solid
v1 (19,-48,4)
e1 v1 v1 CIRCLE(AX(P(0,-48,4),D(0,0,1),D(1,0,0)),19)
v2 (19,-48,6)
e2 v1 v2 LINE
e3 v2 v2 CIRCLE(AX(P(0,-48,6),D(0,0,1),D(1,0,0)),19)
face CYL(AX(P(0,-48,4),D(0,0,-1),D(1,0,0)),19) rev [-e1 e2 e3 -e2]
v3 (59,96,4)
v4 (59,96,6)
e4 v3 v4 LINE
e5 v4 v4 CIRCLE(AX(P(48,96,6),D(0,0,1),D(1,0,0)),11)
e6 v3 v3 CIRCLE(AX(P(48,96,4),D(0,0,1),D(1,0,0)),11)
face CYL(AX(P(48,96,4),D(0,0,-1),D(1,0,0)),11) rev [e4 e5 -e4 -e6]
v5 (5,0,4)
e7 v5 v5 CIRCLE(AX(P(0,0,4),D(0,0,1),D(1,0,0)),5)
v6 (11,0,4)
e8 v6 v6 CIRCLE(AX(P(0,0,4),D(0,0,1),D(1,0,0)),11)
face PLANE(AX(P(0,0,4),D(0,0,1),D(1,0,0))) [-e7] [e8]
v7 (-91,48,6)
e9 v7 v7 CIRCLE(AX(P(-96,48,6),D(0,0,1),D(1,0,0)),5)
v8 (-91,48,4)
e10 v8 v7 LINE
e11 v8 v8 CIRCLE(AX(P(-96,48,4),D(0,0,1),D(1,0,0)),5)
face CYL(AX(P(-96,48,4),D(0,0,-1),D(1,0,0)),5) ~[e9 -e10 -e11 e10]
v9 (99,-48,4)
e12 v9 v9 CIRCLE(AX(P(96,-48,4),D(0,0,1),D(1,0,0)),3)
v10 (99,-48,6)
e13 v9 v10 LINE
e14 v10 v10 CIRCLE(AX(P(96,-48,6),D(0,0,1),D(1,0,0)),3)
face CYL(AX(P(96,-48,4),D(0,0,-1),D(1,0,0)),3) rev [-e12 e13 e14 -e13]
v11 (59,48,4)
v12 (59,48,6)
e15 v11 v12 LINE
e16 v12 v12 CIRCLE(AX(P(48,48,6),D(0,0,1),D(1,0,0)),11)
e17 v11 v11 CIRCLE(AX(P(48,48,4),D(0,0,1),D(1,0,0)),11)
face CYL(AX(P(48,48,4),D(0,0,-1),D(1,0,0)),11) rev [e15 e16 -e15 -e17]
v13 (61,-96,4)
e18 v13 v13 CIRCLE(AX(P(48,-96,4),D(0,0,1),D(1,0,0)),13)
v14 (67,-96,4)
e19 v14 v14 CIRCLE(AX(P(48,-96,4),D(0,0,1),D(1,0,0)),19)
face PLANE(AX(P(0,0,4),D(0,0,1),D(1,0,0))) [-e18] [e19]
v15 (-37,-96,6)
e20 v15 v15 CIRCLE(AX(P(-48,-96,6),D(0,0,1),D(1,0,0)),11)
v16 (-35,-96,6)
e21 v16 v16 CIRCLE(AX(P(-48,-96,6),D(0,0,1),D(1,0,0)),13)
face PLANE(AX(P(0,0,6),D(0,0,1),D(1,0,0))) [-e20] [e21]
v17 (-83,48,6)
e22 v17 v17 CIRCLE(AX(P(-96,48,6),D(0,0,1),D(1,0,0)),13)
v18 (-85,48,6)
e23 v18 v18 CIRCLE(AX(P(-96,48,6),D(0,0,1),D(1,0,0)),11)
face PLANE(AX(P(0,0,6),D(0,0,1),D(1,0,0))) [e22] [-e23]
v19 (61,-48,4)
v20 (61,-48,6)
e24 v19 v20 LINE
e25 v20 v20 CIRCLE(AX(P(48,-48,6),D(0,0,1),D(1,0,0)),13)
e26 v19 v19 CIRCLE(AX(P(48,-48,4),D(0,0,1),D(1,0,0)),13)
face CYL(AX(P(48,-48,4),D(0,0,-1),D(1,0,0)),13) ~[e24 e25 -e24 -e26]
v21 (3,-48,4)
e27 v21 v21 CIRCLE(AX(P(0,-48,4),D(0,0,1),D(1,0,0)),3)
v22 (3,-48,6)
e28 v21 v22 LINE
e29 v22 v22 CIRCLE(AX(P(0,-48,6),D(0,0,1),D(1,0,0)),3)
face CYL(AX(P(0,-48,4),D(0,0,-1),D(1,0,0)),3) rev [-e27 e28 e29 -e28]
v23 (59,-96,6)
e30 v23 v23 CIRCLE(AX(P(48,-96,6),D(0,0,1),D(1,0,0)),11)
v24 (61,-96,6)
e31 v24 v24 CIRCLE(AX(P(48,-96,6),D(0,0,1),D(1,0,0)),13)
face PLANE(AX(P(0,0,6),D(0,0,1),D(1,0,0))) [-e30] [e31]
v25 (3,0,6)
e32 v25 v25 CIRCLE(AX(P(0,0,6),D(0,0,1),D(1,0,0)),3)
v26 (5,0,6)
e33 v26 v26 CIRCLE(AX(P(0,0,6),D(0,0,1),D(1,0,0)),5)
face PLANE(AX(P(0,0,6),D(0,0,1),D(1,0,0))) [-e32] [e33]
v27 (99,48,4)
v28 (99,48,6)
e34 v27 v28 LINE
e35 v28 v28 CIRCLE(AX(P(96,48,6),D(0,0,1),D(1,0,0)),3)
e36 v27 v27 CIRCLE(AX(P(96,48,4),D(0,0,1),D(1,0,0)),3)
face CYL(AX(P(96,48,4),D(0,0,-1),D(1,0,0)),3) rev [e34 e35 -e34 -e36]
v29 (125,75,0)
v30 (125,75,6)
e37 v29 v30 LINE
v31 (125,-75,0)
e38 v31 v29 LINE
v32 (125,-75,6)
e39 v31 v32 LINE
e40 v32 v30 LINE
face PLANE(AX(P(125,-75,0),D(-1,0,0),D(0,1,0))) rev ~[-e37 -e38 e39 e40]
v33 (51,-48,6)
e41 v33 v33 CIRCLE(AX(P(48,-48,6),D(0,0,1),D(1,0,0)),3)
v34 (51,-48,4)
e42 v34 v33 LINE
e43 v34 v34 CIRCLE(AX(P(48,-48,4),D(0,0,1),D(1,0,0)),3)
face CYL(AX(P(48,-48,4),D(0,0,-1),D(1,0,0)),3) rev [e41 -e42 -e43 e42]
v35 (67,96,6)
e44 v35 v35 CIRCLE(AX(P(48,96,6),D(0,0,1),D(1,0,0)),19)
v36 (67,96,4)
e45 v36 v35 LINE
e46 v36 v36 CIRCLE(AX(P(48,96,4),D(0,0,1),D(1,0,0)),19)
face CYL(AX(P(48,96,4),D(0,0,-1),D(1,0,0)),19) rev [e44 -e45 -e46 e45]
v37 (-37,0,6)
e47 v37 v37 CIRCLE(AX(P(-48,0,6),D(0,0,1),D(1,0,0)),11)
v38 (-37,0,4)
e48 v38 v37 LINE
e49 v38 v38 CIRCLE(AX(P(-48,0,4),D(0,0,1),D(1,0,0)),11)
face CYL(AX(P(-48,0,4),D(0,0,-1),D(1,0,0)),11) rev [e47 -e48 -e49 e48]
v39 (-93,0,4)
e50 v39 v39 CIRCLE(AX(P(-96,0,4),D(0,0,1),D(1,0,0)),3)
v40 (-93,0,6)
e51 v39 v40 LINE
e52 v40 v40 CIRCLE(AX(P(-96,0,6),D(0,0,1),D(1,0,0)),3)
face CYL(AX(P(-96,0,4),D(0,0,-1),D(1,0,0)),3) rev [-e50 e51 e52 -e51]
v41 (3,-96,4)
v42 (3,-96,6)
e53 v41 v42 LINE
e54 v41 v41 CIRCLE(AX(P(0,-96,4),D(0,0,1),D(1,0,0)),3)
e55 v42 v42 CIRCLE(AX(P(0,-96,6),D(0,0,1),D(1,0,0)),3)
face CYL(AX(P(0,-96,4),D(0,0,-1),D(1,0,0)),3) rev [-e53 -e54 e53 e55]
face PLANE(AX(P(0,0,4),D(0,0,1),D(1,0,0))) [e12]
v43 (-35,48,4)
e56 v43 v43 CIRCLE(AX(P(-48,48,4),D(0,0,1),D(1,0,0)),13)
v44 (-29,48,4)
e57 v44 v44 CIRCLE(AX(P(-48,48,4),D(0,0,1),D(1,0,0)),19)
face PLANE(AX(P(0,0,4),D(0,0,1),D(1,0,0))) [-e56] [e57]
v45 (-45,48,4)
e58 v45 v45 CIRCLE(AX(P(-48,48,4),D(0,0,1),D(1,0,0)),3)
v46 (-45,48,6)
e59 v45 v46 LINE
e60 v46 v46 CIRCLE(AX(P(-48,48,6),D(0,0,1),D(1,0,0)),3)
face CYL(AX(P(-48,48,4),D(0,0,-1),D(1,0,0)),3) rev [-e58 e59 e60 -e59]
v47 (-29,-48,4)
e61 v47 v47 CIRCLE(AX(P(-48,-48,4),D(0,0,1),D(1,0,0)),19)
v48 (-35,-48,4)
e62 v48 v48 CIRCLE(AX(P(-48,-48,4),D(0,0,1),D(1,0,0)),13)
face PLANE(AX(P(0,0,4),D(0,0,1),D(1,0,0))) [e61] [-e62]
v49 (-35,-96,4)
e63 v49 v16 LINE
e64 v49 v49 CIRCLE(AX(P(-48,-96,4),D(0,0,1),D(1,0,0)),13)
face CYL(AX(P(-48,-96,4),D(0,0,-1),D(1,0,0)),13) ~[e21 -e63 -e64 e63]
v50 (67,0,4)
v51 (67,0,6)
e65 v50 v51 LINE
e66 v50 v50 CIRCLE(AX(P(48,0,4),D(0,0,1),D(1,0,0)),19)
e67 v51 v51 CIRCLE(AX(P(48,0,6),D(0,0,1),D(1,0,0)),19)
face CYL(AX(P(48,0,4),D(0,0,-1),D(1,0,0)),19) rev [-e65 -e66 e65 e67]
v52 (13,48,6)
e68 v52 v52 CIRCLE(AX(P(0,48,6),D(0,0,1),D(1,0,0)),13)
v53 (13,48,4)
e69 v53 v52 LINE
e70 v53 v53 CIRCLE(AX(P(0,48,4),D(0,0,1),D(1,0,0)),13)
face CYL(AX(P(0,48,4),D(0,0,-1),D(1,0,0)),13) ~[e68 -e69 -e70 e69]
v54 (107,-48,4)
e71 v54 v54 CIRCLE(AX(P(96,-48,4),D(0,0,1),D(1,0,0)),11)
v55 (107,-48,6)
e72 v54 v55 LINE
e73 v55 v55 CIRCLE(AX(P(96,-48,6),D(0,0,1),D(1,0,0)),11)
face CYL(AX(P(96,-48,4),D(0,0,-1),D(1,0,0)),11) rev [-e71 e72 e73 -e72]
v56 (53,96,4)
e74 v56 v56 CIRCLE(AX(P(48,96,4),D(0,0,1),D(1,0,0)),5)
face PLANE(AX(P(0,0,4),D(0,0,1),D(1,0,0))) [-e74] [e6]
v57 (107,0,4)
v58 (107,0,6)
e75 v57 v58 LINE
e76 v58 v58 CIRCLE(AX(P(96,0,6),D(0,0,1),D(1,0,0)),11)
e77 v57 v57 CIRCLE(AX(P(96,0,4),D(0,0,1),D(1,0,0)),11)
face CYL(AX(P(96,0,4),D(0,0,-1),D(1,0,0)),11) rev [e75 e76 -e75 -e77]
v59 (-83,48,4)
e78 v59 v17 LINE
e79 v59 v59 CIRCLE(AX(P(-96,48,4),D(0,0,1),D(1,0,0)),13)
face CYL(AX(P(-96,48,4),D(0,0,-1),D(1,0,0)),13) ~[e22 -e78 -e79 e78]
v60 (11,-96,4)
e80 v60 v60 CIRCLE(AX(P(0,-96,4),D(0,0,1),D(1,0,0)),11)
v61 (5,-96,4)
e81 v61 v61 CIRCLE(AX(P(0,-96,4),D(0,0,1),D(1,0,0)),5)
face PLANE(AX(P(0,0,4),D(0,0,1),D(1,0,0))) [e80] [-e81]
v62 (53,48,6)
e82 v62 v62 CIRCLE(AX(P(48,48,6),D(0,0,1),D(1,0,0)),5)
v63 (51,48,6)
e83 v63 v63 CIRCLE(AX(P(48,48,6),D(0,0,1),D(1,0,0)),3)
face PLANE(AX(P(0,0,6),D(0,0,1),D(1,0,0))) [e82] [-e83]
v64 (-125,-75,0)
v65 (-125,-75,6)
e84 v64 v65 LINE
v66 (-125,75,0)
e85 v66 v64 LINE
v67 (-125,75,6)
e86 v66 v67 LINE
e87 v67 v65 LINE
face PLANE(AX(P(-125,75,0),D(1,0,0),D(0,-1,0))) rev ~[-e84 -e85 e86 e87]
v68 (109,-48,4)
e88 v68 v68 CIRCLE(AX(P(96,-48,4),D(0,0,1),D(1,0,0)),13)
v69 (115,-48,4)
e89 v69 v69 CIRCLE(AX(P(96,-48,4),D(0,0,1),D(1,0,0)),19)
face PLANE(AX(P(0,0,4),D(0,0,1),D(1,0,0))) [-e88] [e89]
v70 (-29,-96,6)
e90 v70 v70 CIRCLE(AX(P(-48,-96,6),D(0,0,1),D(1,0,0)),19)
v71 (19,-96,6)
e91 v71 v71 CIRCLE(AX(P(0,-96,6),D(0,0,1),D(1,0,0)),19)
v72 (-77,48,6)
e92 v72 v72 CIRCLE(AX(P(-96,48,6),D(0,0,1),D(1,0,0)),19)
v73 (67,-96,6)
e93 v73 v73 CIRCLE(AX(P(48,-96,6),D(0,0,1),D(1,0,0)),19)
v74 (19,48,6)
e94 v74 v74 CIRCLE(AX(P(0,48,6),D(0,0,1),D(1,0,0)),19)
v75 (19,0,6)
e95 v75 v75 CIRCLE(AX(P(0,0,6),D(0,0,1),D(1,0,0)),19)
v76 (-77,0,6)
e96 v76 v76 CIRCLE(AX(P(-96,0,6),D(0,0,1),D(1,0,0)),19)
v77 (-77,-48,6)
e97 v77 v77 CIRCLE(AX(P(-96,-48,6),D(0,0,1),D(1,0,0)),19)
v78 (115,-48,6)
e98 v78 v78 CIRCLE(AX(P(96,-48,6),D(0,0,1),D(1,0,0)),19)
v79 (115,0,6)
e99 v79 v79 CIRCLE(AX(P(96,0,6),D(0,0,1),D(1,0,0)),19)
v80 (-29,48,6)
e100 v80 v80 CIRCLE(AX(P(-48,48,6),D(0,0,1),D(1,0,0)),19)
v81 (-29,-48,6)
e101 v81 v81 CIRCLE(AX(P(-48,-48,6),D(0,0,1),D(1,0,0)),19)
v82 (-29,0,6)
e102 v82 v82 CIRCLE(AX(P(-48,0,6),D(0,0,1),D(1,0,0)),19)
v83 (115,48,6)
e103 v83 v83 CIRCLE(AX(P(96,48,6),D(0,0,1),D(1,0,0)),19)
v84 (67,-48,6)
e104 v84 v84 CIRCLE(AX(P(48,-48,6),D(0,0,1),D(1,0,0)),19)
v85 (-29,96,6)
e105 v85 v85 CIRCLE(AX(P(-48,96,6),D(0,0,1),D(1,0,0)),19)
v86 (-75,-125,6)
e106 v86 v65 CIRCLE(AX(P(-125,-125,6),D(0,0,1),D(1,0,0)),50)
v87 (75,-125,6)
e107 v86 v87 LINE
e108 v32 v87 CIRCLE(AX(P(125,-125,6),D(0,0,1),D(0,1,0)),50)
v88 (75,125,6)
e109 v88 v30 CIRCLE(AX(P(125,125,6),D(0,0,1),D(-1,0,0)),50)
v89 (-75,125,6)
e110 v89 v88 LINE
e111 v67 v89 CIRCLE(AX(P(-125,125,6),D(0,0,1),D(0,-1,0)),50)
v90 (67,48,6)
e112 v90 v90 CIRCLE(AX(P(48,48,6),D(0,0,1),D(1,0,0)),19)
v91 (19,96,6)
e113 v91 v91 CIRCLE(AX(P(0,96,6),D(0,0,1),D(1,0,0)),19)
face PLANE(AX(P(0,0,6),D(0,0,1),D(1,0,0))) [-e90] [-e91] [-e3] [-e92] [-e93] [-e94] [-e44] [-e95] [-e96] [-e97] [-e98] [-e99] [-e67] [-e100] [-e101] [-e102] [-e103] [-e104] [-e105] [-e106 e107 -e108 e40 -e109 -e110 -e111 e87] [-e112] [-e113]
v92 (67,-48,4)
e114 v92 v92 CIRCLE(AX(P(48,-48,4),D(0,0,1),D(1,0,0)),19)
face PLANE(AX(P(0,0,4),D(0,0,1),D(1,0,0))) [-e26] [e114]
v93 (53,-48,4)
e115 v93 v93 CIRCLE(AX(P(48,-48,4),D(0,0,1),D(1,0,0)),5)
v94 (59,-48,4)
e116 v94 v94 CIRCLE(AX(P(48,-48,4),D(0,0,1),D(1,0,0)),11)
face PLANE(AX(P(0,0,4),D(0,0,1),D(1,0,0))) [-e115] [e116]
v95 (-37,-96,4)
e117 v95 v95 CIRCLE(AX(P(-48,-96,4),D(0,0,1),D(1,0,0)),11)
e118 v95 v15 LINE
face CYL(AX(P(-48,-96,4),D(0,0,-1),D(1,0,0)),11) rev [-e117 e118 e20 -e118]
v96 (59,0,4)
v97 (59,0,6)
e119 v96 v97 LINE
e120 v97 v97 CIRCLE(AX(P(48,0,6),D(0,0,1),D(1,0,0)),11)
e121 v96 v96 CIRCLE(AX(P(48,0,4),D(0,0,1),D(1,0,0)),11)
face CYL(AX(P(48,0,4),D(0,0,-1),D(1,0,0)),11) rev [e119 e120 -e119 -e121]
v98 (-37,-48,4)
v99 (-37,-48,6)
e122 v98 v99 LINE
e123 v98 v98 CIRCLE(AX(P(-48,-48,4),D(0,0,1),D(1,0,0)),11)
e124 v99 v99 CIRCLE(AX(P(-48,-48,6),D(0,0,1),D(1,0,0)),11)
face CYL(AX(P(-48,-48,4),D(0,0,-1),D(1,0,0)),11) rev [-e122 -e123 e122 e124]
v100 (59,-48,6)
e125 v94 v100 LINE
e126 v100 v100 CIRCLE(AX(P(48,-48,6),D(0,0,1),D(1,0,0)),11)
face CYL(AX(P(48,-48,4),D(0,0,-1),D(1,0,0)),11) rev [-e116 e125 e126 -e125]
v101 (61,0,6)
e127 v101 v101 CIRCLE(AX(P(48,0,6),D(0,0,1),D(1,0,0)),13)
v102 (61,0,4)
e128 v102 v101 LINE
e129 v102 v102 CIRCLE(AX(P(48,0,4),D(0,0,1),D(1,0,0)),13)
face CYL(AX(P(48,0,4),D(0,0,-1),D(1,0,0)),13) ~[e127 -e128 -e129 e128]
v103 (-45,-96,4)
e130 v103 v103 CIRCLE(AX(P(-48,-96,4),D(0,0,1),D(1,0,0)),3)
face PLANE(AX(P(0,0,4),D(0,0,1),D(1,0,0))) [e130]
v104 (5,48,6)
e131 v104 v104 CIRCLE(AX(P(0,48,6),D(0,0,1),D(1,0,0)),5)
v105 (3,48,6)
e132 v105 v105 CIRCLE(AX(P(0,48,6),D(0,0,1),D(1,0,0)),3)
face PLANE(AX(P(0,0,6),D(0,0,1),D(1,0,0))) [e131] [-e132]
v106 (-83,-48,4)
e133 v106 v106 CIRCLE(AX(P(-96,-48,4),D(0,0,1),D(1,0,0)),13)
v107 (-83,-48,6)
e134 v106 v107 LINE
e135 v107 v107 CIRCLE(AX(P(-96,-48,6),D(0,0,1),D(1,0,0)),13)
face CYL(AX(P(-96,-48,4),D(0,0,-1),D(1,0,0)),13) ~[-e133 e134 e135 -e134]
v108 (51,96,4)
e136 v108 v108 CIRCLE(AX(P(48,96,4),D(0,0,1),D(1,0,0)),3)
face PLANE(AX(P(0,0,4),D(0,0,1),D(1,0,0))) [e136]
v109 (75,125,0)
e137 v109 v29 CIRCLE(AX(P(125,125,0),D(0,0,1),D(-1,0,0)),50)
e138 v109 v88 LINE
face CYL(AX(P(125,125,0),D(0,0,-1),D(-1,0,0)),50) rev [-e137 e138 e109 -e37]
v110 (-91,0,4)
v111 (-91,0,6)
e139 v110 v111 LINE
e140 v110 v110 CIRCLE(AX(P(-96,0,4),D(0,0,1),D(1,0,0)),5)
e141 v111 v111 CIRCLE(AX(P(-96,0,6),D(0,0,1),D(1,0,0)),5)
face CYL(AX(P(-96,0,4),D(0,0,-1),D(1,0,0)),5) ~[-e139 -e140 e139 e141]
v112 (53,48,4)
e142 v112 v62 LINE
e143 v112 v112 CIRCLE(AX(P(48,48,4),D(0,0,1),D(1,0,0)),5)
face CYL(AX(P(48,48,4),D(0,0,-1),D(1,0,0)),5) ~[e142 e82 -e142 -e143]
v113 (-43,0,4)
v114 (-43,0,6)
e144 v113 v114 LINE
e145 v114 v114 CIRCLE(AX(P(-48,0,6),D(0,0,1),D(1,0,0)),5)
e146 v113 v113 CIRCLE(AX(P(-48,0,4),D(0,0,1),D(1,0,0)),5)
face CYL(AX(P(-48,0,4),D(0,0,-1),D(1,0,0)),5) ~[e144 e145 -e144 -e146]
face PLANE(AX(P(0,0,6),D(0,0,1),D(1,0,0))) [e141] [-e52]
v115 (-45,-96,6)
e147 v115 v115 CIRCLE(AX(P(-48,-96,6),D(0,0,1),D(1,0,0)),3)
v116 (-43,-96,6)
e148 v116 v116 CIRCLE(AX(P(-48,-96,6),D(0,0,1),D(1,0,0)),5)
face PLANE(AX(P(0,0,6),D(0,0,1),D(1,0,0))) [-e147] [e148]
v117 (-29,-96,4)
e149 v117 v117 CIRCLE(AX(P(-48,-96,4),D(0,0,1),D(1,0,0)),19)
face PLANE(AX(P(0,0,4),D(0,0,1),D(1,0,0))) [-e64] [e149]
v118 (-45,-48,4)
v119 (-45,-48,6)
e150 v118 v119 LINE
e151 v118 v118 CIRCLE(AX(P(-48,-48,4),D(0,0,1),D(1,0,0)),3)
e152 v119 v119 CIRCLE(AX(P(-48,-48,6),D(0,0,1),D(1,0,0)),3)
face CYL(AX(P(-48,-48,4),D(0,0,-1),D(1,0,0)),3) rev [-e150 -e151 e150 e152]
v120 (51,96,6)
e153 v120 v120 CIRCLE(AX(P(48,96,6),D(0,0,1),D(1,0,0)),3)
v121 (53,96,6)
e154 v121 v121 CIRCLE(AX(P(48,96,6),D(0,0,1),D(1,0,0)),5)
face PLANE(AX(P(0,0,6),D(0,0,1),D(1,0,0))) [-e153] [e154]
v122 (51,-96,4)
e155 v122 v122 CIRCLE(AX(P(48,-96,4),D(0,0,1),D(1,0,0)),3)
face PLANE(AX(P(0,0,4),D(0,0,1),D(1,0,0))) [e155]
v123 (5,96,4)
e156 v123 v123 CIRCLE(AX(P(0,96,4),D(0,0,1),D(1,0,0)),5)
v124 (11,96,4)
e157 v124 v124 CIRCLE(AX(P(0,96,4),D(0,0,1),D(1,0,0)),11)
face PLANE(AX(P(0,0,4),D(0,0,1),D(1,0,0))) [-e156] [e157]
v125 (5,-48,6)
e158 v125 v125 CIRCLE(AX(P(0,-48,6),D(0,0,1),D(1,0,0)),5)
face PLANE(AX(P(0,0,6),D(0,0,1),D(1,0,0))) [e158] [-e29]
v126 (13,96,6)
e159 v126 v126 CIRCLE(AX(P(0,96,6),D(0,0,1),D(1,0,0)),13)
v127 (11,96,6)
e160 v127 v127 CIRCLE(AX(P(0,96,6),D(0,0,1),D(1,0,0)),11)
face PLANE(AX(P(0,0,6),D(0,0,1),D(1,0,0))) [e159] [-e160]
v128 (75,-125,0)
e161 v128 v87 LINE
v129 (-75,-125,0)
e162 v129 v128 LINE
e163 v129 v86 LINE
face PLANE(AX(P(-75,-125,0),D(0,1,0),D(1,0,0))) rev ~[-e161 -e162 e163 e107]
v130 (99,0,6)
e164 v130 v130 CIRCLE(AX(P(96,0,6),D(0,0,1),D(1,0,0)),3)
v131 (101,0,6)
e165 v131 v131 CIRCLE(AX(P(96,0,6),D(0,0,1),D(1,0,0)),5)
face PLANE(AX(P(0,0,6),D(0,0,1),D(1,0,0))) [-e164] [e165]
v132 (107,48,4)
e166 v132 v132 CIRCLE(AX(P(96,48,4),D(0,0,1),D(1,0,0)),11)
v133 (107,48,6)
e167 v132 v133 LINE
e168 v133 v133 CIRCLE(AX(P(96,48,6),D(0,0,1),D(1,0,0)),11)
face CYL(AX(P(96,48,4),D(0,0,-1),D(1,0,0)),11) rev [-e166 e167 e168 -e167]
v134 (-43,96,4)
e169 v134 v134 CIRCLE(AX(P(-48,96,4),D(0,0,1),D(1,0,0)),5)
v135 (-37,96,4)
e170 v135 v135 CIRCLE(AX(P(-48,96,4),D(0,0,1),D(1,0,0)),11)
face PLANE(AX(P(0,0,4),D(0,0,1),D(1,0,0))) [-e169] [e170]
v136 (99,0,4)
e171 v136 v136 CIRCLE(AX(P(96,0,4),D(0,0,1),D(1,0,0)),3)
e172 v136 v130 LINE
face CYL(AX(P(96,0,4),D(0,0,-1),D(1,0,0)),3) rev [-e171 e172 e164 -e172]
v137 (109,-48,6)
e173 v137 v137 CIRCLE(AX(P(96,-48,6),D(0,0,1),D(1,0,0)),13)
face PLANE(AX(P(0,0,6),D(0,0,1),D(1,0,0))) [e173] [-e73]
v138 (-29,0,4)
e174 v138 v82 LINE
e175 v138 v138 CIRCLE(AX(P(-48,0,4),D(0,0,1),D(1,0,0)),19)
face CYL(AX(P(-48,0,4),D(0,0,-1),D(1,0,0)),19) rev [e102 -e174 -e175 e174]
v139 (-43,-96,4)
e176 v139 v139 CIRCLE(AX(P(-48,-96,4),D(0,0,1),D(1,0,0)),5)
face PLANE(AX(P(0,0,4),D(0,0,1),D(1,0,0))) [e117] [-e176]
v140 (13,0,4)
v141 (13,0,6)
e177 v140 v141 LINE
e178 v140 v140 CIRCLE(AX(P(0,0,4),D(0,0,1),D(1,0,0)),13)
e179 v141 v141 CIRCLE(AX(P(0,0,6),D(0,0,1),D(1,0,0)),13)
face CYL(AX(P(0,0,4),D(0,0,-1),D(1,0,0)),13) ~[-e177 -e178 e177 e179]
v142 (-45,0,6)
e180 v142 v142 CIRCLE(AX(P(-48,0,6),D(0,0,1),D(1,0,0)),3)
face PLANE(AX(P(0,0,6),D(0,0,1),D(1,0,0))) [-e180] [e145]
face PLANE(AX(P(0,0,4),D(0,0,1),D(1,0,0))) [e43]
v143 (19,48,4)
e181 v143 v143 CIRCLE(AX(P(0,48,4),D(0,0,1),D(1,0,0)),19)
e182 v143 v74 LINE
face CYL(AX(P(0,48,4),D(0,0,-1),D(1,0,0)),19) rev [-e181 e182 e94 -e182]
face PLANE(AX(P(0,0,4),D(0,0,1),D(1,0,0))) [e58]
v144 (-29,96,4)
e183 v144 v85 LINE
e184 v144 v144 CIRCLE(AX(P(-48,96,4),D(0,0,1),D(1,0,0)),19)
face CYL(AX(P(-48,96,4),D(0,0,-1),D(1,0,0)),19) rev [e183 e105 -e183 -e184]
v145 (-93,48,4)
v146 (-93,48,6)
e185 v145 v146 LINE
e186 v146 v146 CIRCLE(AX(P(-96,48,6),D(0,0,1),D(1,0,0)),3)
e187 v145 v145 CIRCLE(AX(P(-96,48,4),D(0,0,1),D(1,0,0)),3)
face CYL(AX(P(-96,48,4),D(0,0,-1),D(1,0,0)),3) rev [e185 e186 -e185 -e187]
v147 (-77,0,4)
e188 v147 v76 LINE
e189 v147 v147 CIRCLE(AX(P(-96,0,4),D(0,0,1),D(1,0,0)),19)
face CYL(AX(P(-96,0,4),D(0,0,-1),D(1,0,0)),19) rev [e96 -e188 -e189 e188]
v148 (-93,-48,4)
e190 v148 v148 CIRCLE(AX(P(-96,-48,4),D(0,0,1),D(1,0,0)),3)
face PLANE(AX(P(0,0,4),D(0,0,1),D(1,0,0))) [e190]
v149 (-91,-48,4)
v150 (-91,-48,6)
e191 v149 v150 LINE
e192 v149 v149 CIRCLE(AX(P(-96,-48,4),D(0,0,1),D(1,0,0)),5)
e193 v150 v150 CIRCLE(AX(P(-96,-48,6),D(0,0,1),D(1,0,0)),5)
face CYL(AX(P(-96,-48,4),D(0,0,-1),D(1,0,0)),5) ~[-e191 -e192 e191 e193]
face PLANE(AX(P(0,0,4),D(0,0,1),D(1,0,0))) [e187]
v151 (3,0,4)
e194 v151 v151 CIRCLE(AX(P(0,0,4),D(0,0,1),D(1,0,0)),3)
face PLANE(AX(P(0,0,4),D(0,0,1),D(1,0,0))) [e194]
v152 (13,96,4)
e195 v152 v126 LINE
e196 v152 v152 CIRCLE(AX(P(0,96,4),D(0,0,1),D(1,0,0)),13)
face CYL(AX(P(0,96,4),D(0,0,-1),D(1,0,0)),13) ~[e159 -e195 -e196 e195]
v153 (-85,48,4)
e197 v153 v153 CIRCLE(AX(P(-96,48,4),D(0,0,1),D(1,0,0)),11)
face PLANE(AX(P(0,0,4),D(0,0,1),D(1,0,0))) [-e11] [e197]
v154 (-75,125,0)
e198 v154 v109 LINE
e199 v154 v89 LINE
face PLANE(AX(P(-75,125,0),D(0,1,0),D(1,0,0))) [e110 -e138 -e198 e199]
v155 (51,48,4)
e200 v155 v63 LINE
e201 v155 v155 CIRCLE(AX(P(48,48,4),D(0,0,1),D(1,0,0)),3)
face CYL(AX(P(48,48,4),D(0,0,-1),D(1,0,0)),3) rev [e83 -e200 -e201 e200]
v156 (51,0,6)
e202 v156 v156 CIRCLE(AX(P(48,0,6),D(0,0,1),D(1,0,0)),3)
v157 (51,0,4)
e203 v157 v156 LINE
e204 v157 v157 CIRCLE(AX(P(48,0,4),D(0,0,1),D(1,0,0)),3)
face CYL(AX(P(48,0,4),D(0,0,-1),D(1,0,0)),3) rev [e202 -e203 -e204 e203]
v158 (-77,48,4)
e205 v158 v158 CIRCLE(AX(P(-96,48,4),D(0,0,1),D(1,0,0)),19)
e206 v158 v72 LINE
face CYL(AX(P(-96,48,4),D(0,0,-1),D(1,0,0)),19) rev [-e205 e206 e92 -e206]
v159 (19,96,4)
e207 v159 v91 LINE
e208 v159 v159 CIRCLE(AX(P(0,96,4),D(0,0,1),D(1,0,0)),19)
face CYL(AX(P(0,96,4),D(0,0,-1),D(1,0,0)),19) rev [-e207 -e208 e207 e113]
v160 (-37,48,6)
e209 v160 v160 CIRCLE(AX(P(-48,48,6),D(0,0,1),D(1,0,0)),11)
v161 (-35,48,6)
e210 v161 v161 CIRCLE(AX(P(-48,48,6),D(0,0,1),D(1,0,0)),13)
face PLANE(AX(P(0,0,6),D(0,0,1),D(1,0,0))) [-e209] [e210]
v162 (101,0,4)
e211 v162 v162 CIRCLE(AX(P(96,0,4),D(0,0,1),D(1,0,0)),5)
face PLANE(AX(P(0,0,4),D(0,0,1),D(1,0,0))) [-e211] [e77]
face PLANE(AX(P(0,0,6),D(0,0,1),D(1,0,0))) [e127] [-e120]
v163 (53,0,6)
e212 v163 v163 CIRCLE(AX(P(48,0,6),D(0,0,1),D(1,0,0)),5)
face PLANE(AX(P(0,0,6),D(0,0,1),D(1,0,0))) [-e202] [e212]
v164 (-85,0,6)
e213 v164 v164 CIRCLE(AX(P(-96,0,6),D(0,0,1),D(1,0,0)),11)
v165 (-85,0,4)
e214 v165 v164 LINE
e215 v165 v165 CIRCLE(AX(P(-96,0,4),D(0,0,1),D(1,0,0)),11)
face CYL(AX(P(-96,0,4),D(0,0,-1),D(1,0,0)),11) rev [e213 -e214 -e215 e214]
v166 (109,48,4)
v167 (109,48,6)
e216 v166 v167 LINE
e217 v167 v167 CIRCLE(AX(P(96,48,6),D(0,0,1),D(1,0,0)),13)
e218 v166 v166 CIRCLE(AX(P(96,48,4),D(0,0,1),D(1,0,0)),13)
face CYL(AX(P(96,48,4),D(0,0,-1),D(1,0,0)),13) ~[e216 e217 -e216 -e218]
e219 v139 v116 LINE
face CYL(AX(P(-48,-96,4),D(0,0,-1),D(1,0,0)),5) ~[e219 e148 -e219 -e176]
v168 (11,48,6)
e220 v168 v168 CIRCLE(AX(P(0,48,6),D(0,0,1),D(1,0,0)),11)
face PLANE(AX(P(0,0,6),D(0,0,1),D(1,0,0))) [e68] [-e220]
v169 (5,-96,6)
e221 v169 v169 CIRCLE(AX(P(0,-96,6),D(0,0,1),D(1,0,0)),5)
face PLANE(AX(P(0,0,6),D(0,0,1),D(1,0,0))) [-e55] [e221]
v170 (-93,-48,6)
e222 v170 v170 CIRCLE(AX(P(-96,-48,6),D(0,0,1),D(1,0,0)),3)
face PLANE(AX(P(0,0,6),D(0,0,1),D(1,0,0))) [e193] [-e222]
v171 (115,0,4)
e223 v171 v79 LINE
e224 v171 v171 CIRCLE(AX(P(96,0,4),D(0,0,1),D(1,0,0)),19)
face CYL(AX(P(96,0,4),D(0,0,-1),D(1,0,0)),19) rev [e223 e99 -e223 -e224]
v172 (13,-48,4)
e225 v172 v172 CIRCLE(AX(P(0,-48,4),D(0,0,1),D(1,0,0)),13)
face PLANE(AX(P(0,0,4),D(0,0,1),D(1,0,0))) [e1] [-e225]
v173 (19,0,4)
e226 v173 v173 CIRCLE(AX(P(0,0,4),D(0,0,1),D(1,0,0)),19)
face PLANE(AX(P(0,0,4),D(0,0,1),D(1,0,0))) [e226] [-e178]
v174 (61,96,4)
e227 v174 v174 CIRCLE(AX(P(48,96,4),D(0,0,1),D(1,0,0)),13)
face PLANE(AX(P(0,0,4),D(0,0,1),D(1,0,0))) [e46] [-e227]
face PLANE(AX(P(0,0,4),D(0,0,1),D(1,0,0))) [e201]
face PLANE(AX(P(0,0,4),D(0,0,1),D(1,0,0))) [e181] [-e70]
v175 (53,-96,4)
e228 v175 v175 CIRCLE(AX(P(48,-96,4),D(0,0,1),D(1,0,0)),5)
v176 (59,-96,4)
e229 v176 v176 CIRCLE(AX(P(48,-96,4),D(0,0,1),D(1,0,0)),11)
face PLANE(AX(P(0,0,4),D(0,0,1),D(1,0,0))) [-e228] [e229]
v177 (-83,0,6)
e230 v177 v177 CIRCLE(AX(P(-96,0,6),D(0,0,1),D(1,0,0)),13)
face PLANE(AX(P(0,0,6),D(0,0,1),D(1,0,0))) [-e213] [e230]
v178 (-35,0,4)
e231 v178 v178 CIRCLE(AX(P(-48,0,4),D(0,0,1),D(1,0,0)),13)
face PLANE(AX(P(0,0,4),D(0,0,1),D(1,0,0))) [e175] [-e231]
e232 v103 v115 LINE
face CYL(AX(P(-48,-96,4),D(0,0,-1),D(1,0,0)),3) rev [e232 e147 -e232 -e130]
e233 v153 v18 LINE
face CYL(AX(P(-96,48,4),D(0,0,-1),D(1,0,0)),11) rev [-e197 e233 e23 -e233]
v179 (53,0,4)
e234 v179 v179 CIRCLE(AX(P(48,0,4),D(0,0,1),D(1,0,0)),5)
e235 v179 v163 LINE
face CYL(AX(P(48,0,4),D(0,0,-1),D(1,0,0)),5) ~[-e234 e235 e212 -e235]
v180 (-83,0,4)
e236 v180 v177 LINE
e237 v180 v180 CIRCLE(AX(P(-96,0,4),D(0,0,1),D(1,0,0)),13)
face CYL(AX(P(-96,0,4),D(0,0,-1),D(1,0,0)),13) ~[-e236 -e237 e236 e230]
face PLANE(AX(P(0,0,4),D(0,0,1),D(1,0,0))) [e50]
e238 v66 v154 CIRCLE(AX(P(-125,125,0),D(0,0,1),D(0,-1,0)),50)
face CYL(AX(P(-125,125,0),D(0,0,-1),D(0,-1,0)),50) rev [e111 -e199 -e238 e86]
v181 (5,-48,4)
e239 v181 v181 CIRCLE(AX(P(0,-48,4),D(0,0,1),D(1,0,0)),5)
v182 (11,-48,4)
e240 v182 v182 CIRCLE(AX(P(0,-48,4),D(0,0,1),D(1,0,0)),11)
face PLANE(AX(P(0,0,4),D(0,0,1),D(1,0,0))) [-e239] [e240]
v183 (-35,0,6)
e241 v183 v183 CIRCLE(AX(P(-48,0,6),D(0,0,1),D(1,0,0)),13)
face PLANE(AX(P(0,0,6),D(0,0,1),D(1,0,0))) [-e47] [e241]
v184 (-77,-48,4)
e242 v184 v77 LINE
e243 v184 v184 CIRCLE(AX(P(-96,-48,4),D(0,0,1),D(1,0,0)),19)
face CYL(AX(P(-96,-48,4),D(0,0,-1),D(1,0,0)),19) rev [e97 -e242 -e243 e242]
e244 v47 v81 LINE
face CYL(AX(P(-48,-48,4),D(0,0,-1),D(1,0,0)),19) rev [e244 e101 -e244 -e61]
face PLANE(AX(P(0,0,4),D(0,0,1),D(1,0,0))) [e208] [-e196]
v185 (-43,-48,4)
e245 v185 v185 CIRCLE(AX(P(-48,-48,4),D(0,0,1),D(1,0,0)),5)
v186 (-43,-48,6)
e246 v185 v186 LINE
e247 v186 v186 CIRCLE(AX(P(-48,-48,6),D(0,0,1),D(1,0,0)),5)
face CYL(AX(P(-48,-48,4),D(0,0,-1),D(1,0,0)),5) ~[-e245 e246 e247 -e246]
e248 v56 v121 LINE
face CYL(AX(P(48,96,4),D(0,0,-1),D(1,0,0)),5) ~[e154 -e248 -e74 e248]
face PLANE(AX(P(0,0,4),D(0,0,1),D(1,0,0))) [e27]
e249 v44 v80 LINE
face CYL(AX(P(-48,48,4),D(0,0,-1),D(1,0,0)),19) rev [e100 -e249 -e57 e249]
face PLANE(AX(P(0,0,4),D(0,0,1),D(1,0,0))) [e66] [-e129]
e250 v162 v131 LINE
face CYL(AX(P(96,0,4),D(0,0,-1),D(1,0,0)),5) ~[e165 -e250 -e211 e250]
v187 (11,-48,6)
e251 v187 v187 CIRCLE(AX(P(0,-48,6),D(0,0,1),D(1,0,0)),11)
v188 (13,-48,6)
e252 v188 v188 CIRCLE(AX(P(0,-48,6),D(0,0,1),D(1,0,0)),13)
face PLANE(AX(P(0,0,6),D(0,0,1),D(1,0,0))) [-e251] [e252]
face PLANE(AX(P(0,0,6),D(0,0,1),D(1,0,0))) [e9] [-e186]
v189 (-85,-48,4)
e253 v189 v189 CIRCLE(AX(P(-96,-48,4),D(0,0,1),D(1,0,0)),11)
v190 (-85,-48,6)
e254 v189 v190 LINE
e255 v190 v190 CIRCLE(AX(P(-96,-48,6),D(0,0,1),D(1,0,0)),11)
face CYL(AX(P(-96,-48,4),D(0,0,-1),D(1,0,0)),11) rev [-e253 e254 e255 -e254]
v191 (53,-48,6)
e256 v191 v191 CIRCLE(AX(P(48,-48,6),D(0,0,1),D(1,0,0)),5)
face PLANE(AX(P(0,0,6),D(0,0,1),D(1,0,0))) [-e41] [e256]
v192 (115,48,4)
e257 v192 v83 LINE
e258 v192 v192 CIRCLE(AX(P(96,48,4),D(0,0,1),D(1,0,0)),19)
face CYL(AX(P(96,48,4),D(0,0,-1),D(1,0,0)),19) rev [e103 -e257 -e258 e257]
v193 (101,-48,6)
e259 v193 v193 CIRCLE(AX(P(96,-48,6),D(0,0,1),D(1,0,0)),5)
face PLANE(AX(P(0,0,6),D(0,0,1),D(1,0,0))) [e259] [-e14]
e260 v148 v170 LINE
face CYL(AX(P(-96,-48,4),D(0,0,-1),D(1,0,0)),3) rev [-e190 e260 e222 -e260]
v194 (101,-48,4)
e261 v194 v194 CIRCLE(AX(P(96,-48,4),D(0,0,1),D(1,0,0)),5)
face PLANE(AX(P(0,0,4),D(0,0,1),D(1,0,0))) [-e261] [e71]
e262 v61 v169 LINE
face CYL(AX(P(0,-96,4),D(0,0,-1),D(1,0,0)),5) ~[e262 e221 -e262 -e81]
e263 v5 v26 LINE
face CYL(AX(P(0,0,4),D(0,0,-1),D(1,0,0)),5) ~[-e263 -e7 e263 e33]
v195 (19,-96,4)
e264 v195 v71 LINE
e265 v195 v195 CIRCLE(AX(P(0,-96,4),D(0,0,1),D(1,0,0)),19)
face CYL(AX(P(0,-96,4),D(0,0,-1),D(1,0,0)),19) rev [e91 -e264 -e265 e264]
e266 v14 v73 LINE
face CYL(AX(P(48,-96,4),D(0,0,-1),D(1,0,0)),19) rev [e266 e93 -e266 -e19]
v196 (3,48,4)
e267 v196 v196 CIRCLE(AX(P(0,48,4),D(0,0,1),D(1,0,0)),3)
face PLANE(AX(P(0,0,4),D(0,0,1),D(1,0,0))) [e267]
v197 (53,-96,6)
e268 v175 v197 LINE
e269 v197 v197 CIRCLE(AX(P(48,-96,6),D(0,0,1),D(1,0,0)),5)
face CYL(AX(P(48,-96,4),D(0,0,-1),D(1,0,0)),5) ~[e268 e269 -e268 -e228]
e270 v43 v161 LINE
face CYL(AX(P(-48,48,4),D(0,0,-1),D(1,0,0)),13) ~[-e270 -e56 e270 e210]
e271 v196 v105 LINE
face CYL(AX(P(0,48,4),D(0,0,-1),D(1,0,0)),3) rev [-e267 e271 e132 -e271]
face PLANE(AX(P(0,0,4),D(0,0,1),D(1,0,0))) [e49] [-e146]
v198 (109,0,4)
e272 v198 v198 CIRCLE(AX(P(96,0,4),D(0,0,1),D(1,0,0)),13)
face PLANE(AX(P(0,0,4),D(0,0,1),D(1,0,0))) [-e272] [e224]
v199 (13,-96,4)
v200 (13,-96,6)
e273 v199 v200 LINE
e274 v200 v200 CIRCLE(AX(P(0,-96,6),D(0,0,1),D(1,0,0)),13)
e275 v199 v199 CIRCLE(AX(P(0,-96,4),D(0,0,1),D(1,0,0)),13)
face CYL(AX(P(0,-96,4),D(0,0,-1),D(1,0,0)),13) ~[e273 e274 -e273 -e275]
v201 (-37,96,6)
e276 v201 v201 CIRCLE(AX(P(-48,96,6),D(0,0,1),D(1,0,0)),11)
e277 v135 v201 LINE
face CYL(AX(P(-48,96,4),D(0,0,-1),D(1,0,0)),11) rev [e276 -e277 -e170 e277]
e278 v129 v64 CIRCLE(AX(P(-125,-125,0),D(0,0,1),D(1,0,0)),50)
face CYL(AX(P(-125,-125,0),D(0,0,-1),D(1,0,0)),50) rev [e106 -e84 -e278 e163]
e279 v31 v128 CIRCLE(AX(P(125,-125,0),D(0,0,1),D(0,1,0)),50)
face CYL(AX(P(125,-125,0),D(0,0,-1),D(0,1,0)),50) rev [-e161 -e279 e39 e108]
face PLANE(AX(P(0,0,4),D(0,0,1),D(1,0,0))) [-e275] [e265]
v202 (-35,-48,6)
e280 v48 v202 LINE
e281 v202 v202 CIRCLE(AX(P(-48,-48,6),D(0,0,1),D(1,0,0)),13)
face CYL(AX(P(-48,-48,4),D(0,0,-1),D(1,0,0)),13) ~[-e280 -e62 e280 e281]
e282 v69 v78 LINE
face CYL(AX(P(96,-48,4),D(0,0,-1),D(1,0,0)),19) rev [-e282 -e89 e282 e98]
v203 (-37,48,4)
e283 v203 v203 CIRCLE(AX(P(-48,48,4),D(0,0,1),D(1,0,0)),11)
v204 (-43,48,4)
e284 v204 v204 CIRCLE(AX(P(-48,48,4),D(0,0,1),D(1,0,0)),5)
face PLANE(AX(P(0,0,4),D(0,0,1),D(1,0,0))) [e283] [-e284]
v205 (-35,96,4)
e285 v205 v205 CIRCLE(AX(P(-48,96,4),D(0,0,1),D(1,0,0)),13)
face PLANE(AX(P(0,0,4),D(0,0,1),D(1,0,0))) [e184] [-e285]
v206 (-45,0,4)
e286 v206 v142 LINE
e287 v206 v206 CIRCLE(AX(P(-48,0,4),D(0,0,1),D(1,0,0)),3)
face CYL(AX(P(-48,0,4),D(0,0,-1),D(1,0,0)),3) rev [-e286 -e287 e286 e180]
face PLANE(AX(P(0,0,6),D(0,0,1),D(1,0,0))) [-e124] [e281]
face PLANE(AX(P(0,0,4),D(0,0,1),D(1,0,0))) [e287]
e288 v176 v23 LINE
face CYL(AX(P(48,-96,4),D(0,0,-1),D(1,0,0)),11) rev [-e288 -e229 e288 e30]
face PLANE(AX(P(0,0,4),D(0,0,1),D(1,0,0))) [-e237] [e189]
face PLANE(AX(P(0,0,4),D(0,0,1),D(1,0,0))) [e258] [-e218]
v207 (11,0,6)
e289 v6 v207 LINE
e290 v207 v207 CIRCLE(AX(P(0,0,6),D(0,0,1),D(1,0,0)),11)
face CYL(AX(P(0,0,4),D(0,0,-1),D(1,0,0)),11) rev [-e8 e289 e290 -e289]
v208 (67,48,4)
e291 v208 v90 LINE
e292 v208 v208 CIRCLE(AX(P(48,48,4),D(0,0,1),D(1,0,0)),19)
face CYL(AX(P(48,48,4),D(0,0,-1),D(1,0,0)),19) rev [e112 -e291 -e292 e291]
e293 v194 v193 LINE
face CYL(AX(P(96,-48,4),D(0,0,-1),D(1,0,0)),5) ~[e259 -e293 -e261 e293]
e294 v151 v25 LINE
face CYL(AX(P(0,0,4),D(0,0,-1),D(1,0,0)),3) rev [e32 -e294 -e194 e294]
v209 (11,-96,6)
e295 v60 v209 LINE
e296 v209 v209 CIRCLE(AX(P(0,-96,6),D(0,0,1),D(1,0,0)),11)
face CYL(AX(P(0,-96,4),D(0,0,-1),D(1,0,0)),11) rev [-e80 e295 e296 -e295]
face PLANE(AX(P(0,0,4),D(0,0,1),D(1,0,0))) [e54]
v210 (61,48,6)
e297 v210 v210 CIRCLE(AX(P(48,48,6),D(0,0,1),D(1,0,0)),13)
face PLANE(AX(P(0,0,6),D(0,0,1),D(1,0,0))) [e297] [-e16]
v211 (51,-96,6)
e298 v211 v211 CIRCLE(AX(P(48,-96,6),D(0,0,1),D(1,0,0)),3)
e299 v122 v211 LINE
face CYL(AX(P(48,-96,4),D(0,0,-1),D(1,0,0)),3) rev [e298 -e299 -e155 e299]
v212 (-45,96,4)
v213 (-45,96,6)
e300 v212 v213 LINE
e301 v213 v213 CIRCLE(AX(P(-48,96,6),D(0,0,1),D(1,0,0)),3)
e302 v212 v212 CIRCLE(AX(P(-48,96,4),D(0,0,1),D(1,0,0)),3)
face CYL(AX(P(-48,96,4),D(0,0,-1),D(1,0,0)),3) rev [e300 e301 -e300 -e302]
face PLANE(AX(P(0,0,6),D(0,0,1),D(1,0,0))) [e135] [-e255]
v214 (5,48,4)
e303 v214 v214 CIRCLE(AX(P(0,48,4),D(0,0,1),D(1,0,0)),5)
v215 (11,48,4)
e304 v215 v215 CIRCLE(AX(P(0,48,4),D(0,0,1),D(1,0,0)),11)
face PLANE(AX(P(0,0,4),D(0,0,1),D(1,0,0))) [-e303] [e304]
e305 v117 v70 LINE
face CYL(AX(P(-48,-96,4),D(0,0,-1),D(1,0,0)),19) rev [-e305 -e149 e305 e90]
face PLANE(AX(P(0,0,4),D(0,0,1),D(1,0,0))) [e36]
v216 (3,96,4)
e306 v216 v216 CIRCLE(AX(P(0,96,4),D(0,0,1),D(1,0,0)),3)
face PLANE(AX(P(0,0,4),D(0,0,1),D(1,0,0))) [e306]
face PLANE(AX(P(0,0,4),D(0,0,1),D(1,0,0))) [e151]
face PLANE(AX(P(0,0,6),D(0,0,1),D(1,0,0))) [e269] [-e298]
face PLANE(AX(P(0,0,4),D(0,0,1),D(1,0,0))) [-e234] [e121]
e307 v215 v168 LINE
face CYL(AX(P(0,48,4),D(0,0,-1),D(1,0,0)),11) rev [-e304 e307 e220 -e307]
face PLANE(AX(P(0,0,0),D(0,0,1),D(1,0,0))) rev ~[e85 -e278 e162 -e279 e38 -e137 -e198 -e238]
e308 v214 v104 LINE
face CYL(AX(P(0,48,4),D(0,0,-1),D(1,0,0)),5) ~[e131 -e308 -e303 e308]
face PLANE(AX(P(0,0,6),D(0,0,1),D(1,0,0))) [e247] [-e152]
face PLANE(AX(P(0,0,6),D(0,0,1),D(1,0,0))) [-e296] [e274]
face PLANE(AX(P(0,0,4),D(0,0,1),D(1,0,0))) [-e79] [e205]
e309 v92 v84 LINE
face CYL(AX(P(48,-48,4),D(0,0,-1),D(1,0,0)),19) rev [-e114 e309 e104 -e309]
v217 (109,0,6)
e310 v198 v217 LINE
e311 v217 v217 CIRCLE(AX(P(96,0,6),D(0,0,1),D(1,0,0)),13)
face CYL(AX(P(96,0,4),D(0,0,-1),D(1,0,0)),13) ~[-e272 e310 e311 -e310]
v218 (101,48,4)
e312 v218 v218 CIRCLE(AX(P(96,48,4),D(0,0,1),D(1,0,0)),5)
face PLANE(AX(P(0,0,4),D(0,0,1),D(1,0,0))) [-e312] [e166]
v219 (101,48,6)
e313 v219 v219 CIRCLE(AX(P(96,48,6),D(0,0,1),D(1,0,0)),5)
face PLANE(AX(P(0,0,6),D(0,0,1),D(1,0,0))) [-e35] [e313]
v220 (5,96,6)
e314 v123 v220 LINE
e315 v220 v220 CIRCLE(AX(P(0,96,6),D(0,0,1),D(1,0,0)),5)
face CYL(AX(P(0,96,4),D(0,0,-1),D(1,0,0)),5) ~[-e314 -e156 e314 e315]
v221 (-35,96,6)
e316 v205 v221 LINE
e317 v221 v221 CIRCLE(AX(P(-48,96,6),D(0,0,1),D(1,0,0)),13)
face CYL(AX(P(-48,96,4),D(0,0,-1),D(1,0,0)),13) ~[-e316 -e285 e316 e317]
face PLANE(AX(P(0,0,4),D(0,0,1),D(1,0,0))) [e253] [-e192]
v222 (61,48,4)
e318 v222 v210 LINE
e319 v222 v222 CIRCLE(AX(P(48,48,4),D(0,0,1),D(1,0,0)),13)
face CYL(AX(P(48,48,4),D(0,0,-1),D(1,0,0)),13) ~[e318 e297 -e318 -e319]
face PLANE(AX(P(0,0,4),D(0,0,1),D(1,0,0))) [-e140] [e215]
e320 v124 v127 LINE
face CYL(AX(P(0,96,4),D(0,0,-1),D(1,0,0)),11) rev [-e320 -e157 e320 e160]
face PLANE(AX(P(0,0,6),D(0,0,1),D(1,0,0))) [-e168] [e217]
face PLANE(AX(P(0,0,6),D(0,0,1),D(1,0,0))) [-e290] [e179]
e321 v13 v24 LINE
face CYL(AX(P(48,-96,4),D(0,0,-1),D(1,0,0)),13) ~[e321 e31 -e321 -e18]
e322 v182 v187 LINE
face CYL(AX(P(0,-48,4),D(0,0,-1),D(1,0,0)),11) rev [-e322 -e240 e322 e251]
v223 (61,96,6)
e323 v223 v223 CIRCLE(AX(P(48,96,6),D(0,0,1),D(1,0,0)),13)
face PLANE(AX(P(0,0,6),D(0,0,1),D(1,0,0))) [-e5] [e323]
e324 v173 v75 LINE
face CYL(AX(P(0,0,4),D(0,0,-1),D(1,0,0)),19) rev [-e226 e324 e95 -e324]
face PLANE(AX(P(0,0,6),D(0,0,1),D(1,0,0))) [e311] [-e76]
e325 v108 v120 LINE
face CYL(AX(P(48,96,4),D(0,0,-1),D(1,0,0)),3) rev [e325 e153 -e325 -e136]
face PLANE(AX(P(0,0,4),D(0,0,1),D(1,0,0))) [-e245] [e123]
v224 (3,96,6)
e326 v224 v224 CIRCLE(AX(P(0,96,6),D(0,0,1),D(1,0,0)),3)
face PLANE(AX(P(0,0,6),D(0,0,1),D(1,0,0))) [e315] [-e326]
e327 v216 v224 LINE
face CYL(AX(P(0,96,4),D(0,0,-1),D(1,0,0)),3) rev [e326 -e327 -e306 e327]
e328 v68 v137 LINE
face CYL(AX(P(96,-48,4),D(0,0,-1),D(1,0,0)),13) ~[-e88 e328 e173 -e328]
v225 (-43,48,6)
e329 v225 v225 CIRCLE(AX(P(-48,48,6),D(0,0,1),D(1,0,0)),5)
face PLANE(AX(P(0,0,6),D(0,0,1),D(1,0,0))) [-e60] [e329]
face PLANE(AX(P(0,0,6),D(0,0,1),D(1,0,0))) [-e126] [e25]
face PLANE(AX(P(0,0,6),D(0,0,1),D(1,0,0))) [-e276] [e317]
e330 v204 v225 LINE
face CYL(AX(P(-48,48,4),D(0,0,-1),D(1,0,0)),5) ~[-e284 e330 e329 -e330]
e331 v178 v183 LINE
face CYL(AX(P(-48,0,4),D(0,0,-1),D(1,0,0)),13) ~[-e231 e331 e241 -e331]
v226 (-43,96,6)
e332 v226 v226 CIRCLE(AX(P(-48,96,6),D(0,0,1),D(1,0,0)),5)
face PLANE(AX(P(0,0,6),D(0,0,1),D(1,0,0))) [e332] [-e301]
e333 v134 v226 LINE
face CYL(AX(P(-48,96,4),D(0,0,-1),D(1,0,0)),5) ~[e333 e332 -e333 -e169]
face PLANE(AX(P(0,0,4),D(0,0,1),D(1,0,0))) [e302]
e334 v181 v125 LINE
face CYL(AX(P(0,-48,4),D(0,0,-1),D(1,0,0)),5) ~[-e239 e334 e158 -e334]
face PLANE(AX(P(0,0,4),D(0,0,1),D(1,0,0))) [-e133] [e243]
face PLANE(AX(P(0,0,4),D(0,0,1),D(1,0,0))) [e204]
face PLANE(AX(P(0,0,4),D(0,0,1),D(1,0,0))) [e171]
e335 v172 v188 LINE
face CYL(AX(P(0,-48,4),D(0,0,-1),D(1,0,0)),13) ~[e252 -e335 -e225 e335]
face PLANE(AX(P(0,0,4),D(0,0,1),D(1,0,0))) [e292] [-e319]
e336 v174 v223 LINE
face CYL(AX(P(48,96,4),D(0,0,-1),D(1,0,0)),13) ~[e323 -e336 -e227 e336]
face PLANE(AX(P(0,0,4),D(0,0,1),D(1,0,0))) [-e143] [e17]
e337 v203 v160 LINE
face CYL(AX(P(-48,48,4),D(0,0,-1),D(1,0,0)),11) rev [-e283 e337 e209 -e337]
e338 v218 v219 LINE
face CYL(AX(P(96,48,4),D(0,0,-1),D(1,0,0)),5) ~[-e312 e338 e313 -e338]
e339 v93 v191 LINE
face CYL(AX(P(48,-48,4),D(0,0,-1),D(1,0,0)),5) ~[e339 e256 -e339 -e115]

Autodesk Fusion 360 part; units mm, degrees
ref_plane "WorkPlane1" through (0, 0, 4) normal (0, 0, 1) x (1, 0, 0)
sketch "Main Sketch1" plane through (0, 0, 4) normal (0, 0, 1) x (1, 0, 0)
  circle A0 centre (0, 0) radius 3
  circle A1 centre (0, 0) radius 5
  circle A2 centre (0, 0) radius 11
  circle A3 centre (0, 0) radius 13
  circle A4 centre (0, 0) radius 19
  circle A5 centre (-48, -96) radius 5
  circle A6 centre (-48, -96) radius 19
  circle A7 centre (-48, -96) radius 3
  circle A8 centre (-48, -96) radius 13
  circle A9 centre (-48, -96) radius 11
  circle A10 centre (0, -96) radius 5
  circle A11 centre (0, -96) radius 19
  circle A12 centre (0, -96) radius 3
  circle A13 centre (0, -96) radius 13
  circle A14 centre (0, -96) radius 11
  circle A15 centre (48, -96) radius 5
  circle A16 centre (48, -96) radius 19
  circle A17 centre (48, -96) radius 3
  circle A18 centre (48, -96) radius 13
  circle A19 centre (48, -96) radius 11
  circle A20 centre (-96, -48) radius 5
  circle A21 centre (-96, -48) radius 19
  circle A22 centre (-96, -48) radius 3
  circle A23 centre (-96, -48) radius 13
  circle A24 centre (-96, -48) radius 11
  circle A25 centre (-48, -48) radius 5
  circle A26 centre (-48, -48) radius 19
  circle A27 centre (-48, -48) radius 3
  circle A28 centre (-48, -48) radius 13
  circle A29 centre (-48, -48) radius 11
  circle A30 centre (0, -48) radius 5
  circle A31 centre (0, -48) radius 19
  circle A32 centre (0, -48) radius 3
  circle A33 centre (0, -48) radius 13
  circle A34 centre (0, -48) radius 11
  circle A35 centre (48, -48) radius 5
  circle A36 centre (48, -48) radius 19
  circle A37 centre (48, -48) radius 3
  circle A38 centre (48, -48) radius 13
  circle A39 centre (48, -48) radius 11
  circle A40 centre (96, -48) radius 5
  circle A41 centre (96, -48) radius 19
  circle A42 centre (96, -48) radius 3
  circle A43 centre (96, -48) radius 13
  circle A44 centre (96, -48) radius 11
  circle A45 centre (-96, 0) radius 5
  circle A46 centre (-96, 0) radius 19
  circle A47 centre (-96, 0) radius 3
  circle A48 centre (-96, 0) radius 13
  circle A49 centre (-96, 0) radius 11
  circle A50 centre (-48, 0) radius 5
  circle A51 centre (-48, 0) radius 19
  circle A52 centre (-48, 0) radius 3
  circle A53 centre (-48, 0) radius 13
  circle A54 centre (-48, 0) radius 11
  circle A55 centre (48, 0) radius 5
  circle A56 centre (48, 0) radius 19
  circle A57 centre (48, 0) radius 3
  circle A58 centre (48, 0) radius 13
  circle A59 centre (48, 0) radius 11
  circle A60 centre (96, 0) radius 5
  circle A61 centre (96, 0) radius 19
  circle A62 centre (96, 0) radius 3
  circle A63 centre (96, 0) radius 13
  circle A64 centre (96, 0) radius 11
  circle A65 centre (-96, 48) radius 5
  circle A66 centre (-96, 48) radius 19
  circle A67 centre (-96, 48) radius 3
  circle A68 centre (-96, 48) radius 13
  circle A69 centre (-96, 48) radius 11
  circle A70 centre (-48, 48) radius 5
  circle A71 centre (-48, 48) radius 19
  circle A72 centre (-48, 48) radius 3
  circle A73 centre (-48, 48) radius 13
  circle A74 centre (-48, 48) radius 11
  circle A75 centre (0, 48) radius 5
  circle A76 centre (0, 48) radius 19
  circle A77 centre (0, 48) radius 3
  circle A78 centre (0, 48) radius 13
  circle A79 centre (0, 48) radius 11
  circle A80 centre (48, 48) radius 5
  circle A81 centre (48, 48) radius 19
  circle A82 centre (48, 48) radius 3
  circle A83 centre (48, 48) radius 13
  circle A84 centre (48, 48) radius 11
  circle A85 centre (96, 48) radius 5
  circle A86 centre (96, 48) radius 19
  circle A87 centre (96, 48) radius 3
  circle A88 centre (96, 48) radius 13
  circle A89 centre (96, 48) radius 11
  circle A90 centre (-48, 96) radius 5
  circle A91 centre (-48, 96) radius 19
  circle A92 centre (-48, 96) radius 3
  circle A93 centre (-48, 96) radius 13
  circle A94 centre (-48, 96) radius 11
  circle A95 centre (0, 96) radius 5
  circle A96 centre (0, 96) radius 19
  circle A97 centre (0, 96) radius 3
  circle A98 centre (0, 96) radius 13
  circle A99 centre (0, 96) radius 11
  circle A100 centre (48, 96) radius 5
  circle A101 centre (48, 96) radius 19
  circle A102 centre (48, 96) radius 3
  circle A103 centre (48, 96) radius 13
  circle A104 centre (48, 96) radius 11
  line L0 (73, 73) -> (-73, 73)
  line L1 (-73, 73) -> (-73, -73)
  line L2 (-73, -73) -> (73, -73)
  line L3 (73, -73) -> (73, 73)
  line L4 (73, 73) -> (-73, -73) construction
  line L5 (-73, 73) -> (73, -73) construction
  line L6 (125, 125) -> (-125, -125) construction
  line L7 (-125, 125) -> (125, -125) construction
  dimension "d1" = 6
  dimension "d2" = 10
  dimension "d3" = 22
  dimension "d4" = 26
  dimension "d5" = 38
  dimension "d8" = 48
  dimension "d9" = 48
  dimension "d10" = 250
  dimension "d11" = 250
sketch "base" plane through (0, 0, 0) normal (0, 0, 1) x (1, 0, 0)
  line L0 (-125, 75) -> (-125, -75)
  line L1 (-75, -125) -> (75, -125)
  line L2 (125, -75) -> (125, 75)
  line L3 (125, 125) -> (-125, -125) construction
  line L4 (-125, 125) -> (125, -125) construction
  arc A0 (75, 125) -> (125, 75) centre (125, 125) ccw
  arc A1 (-125, 75) -> (-75, 125) centre (-125, 125) ccw
  arc A2 (-75, -125) -> (-125, -75) centre (-125, -125) ccw
  arc A3 (125, -75) -> (75, -125) centre (125, -125) ccw
  line L5 (-75, 125) -> (75, 125)
  dimension "d28" = 250
  dimension "d29" = 250
  dimension "d30" = 100
  dimension "d31" = 100
  dimension "d32" = 100
  dimension "d33" = 100
extrude "extrude main body" add sketch "base" along normal blind 6
extrude "cut groves" cut sketch "Main Sketch1" along normal blind 2 contours A0 | A2 | A4 | A6 | A7 | A9 | A11 | A12 | A14 | A16 | A17 | A19 | A21 | A22 | A24 | A26 | A27 | A29 | A31 | A32 | A34 | A36 | A37 | A39 | A41 | A42 | A44 | A46 | A47 | A49 | A51 | A52 | A54 | A56 | A57 | A59 | A61 | A62 | A64 | A66 | A67 | A69 | A71 | A72 | A74 | A76 | A77 | A79 | A81 | A82 | A84 | A86 | A87 | A89 | A91 | A92 | A94 | A96 | A97 | A99 | A101 | A102 | A104
sketch "text" plane through (0, 0, 0) normal (0, 0, 1) x (1, 0, 0)
  line L0 (-81.1, -79.3) -> (-81.1, -91.3) construction
  line L1 (-81.1, -91.3) -> (-74.1, -91.3) construction
  line L2 (-74.1, -91.3) -> (-74.1, -79.3) construction
  line L3 (-74.1, -79.3) -> (-81.1, -79.3) construction
  dimension "d43" = 8
equation "height = 6 mm"
equation "grooveheight = 2 mm"
equation "d27 = height - grooveheight"
equation "d34 = height"
equation "d36 = grooveheight"
